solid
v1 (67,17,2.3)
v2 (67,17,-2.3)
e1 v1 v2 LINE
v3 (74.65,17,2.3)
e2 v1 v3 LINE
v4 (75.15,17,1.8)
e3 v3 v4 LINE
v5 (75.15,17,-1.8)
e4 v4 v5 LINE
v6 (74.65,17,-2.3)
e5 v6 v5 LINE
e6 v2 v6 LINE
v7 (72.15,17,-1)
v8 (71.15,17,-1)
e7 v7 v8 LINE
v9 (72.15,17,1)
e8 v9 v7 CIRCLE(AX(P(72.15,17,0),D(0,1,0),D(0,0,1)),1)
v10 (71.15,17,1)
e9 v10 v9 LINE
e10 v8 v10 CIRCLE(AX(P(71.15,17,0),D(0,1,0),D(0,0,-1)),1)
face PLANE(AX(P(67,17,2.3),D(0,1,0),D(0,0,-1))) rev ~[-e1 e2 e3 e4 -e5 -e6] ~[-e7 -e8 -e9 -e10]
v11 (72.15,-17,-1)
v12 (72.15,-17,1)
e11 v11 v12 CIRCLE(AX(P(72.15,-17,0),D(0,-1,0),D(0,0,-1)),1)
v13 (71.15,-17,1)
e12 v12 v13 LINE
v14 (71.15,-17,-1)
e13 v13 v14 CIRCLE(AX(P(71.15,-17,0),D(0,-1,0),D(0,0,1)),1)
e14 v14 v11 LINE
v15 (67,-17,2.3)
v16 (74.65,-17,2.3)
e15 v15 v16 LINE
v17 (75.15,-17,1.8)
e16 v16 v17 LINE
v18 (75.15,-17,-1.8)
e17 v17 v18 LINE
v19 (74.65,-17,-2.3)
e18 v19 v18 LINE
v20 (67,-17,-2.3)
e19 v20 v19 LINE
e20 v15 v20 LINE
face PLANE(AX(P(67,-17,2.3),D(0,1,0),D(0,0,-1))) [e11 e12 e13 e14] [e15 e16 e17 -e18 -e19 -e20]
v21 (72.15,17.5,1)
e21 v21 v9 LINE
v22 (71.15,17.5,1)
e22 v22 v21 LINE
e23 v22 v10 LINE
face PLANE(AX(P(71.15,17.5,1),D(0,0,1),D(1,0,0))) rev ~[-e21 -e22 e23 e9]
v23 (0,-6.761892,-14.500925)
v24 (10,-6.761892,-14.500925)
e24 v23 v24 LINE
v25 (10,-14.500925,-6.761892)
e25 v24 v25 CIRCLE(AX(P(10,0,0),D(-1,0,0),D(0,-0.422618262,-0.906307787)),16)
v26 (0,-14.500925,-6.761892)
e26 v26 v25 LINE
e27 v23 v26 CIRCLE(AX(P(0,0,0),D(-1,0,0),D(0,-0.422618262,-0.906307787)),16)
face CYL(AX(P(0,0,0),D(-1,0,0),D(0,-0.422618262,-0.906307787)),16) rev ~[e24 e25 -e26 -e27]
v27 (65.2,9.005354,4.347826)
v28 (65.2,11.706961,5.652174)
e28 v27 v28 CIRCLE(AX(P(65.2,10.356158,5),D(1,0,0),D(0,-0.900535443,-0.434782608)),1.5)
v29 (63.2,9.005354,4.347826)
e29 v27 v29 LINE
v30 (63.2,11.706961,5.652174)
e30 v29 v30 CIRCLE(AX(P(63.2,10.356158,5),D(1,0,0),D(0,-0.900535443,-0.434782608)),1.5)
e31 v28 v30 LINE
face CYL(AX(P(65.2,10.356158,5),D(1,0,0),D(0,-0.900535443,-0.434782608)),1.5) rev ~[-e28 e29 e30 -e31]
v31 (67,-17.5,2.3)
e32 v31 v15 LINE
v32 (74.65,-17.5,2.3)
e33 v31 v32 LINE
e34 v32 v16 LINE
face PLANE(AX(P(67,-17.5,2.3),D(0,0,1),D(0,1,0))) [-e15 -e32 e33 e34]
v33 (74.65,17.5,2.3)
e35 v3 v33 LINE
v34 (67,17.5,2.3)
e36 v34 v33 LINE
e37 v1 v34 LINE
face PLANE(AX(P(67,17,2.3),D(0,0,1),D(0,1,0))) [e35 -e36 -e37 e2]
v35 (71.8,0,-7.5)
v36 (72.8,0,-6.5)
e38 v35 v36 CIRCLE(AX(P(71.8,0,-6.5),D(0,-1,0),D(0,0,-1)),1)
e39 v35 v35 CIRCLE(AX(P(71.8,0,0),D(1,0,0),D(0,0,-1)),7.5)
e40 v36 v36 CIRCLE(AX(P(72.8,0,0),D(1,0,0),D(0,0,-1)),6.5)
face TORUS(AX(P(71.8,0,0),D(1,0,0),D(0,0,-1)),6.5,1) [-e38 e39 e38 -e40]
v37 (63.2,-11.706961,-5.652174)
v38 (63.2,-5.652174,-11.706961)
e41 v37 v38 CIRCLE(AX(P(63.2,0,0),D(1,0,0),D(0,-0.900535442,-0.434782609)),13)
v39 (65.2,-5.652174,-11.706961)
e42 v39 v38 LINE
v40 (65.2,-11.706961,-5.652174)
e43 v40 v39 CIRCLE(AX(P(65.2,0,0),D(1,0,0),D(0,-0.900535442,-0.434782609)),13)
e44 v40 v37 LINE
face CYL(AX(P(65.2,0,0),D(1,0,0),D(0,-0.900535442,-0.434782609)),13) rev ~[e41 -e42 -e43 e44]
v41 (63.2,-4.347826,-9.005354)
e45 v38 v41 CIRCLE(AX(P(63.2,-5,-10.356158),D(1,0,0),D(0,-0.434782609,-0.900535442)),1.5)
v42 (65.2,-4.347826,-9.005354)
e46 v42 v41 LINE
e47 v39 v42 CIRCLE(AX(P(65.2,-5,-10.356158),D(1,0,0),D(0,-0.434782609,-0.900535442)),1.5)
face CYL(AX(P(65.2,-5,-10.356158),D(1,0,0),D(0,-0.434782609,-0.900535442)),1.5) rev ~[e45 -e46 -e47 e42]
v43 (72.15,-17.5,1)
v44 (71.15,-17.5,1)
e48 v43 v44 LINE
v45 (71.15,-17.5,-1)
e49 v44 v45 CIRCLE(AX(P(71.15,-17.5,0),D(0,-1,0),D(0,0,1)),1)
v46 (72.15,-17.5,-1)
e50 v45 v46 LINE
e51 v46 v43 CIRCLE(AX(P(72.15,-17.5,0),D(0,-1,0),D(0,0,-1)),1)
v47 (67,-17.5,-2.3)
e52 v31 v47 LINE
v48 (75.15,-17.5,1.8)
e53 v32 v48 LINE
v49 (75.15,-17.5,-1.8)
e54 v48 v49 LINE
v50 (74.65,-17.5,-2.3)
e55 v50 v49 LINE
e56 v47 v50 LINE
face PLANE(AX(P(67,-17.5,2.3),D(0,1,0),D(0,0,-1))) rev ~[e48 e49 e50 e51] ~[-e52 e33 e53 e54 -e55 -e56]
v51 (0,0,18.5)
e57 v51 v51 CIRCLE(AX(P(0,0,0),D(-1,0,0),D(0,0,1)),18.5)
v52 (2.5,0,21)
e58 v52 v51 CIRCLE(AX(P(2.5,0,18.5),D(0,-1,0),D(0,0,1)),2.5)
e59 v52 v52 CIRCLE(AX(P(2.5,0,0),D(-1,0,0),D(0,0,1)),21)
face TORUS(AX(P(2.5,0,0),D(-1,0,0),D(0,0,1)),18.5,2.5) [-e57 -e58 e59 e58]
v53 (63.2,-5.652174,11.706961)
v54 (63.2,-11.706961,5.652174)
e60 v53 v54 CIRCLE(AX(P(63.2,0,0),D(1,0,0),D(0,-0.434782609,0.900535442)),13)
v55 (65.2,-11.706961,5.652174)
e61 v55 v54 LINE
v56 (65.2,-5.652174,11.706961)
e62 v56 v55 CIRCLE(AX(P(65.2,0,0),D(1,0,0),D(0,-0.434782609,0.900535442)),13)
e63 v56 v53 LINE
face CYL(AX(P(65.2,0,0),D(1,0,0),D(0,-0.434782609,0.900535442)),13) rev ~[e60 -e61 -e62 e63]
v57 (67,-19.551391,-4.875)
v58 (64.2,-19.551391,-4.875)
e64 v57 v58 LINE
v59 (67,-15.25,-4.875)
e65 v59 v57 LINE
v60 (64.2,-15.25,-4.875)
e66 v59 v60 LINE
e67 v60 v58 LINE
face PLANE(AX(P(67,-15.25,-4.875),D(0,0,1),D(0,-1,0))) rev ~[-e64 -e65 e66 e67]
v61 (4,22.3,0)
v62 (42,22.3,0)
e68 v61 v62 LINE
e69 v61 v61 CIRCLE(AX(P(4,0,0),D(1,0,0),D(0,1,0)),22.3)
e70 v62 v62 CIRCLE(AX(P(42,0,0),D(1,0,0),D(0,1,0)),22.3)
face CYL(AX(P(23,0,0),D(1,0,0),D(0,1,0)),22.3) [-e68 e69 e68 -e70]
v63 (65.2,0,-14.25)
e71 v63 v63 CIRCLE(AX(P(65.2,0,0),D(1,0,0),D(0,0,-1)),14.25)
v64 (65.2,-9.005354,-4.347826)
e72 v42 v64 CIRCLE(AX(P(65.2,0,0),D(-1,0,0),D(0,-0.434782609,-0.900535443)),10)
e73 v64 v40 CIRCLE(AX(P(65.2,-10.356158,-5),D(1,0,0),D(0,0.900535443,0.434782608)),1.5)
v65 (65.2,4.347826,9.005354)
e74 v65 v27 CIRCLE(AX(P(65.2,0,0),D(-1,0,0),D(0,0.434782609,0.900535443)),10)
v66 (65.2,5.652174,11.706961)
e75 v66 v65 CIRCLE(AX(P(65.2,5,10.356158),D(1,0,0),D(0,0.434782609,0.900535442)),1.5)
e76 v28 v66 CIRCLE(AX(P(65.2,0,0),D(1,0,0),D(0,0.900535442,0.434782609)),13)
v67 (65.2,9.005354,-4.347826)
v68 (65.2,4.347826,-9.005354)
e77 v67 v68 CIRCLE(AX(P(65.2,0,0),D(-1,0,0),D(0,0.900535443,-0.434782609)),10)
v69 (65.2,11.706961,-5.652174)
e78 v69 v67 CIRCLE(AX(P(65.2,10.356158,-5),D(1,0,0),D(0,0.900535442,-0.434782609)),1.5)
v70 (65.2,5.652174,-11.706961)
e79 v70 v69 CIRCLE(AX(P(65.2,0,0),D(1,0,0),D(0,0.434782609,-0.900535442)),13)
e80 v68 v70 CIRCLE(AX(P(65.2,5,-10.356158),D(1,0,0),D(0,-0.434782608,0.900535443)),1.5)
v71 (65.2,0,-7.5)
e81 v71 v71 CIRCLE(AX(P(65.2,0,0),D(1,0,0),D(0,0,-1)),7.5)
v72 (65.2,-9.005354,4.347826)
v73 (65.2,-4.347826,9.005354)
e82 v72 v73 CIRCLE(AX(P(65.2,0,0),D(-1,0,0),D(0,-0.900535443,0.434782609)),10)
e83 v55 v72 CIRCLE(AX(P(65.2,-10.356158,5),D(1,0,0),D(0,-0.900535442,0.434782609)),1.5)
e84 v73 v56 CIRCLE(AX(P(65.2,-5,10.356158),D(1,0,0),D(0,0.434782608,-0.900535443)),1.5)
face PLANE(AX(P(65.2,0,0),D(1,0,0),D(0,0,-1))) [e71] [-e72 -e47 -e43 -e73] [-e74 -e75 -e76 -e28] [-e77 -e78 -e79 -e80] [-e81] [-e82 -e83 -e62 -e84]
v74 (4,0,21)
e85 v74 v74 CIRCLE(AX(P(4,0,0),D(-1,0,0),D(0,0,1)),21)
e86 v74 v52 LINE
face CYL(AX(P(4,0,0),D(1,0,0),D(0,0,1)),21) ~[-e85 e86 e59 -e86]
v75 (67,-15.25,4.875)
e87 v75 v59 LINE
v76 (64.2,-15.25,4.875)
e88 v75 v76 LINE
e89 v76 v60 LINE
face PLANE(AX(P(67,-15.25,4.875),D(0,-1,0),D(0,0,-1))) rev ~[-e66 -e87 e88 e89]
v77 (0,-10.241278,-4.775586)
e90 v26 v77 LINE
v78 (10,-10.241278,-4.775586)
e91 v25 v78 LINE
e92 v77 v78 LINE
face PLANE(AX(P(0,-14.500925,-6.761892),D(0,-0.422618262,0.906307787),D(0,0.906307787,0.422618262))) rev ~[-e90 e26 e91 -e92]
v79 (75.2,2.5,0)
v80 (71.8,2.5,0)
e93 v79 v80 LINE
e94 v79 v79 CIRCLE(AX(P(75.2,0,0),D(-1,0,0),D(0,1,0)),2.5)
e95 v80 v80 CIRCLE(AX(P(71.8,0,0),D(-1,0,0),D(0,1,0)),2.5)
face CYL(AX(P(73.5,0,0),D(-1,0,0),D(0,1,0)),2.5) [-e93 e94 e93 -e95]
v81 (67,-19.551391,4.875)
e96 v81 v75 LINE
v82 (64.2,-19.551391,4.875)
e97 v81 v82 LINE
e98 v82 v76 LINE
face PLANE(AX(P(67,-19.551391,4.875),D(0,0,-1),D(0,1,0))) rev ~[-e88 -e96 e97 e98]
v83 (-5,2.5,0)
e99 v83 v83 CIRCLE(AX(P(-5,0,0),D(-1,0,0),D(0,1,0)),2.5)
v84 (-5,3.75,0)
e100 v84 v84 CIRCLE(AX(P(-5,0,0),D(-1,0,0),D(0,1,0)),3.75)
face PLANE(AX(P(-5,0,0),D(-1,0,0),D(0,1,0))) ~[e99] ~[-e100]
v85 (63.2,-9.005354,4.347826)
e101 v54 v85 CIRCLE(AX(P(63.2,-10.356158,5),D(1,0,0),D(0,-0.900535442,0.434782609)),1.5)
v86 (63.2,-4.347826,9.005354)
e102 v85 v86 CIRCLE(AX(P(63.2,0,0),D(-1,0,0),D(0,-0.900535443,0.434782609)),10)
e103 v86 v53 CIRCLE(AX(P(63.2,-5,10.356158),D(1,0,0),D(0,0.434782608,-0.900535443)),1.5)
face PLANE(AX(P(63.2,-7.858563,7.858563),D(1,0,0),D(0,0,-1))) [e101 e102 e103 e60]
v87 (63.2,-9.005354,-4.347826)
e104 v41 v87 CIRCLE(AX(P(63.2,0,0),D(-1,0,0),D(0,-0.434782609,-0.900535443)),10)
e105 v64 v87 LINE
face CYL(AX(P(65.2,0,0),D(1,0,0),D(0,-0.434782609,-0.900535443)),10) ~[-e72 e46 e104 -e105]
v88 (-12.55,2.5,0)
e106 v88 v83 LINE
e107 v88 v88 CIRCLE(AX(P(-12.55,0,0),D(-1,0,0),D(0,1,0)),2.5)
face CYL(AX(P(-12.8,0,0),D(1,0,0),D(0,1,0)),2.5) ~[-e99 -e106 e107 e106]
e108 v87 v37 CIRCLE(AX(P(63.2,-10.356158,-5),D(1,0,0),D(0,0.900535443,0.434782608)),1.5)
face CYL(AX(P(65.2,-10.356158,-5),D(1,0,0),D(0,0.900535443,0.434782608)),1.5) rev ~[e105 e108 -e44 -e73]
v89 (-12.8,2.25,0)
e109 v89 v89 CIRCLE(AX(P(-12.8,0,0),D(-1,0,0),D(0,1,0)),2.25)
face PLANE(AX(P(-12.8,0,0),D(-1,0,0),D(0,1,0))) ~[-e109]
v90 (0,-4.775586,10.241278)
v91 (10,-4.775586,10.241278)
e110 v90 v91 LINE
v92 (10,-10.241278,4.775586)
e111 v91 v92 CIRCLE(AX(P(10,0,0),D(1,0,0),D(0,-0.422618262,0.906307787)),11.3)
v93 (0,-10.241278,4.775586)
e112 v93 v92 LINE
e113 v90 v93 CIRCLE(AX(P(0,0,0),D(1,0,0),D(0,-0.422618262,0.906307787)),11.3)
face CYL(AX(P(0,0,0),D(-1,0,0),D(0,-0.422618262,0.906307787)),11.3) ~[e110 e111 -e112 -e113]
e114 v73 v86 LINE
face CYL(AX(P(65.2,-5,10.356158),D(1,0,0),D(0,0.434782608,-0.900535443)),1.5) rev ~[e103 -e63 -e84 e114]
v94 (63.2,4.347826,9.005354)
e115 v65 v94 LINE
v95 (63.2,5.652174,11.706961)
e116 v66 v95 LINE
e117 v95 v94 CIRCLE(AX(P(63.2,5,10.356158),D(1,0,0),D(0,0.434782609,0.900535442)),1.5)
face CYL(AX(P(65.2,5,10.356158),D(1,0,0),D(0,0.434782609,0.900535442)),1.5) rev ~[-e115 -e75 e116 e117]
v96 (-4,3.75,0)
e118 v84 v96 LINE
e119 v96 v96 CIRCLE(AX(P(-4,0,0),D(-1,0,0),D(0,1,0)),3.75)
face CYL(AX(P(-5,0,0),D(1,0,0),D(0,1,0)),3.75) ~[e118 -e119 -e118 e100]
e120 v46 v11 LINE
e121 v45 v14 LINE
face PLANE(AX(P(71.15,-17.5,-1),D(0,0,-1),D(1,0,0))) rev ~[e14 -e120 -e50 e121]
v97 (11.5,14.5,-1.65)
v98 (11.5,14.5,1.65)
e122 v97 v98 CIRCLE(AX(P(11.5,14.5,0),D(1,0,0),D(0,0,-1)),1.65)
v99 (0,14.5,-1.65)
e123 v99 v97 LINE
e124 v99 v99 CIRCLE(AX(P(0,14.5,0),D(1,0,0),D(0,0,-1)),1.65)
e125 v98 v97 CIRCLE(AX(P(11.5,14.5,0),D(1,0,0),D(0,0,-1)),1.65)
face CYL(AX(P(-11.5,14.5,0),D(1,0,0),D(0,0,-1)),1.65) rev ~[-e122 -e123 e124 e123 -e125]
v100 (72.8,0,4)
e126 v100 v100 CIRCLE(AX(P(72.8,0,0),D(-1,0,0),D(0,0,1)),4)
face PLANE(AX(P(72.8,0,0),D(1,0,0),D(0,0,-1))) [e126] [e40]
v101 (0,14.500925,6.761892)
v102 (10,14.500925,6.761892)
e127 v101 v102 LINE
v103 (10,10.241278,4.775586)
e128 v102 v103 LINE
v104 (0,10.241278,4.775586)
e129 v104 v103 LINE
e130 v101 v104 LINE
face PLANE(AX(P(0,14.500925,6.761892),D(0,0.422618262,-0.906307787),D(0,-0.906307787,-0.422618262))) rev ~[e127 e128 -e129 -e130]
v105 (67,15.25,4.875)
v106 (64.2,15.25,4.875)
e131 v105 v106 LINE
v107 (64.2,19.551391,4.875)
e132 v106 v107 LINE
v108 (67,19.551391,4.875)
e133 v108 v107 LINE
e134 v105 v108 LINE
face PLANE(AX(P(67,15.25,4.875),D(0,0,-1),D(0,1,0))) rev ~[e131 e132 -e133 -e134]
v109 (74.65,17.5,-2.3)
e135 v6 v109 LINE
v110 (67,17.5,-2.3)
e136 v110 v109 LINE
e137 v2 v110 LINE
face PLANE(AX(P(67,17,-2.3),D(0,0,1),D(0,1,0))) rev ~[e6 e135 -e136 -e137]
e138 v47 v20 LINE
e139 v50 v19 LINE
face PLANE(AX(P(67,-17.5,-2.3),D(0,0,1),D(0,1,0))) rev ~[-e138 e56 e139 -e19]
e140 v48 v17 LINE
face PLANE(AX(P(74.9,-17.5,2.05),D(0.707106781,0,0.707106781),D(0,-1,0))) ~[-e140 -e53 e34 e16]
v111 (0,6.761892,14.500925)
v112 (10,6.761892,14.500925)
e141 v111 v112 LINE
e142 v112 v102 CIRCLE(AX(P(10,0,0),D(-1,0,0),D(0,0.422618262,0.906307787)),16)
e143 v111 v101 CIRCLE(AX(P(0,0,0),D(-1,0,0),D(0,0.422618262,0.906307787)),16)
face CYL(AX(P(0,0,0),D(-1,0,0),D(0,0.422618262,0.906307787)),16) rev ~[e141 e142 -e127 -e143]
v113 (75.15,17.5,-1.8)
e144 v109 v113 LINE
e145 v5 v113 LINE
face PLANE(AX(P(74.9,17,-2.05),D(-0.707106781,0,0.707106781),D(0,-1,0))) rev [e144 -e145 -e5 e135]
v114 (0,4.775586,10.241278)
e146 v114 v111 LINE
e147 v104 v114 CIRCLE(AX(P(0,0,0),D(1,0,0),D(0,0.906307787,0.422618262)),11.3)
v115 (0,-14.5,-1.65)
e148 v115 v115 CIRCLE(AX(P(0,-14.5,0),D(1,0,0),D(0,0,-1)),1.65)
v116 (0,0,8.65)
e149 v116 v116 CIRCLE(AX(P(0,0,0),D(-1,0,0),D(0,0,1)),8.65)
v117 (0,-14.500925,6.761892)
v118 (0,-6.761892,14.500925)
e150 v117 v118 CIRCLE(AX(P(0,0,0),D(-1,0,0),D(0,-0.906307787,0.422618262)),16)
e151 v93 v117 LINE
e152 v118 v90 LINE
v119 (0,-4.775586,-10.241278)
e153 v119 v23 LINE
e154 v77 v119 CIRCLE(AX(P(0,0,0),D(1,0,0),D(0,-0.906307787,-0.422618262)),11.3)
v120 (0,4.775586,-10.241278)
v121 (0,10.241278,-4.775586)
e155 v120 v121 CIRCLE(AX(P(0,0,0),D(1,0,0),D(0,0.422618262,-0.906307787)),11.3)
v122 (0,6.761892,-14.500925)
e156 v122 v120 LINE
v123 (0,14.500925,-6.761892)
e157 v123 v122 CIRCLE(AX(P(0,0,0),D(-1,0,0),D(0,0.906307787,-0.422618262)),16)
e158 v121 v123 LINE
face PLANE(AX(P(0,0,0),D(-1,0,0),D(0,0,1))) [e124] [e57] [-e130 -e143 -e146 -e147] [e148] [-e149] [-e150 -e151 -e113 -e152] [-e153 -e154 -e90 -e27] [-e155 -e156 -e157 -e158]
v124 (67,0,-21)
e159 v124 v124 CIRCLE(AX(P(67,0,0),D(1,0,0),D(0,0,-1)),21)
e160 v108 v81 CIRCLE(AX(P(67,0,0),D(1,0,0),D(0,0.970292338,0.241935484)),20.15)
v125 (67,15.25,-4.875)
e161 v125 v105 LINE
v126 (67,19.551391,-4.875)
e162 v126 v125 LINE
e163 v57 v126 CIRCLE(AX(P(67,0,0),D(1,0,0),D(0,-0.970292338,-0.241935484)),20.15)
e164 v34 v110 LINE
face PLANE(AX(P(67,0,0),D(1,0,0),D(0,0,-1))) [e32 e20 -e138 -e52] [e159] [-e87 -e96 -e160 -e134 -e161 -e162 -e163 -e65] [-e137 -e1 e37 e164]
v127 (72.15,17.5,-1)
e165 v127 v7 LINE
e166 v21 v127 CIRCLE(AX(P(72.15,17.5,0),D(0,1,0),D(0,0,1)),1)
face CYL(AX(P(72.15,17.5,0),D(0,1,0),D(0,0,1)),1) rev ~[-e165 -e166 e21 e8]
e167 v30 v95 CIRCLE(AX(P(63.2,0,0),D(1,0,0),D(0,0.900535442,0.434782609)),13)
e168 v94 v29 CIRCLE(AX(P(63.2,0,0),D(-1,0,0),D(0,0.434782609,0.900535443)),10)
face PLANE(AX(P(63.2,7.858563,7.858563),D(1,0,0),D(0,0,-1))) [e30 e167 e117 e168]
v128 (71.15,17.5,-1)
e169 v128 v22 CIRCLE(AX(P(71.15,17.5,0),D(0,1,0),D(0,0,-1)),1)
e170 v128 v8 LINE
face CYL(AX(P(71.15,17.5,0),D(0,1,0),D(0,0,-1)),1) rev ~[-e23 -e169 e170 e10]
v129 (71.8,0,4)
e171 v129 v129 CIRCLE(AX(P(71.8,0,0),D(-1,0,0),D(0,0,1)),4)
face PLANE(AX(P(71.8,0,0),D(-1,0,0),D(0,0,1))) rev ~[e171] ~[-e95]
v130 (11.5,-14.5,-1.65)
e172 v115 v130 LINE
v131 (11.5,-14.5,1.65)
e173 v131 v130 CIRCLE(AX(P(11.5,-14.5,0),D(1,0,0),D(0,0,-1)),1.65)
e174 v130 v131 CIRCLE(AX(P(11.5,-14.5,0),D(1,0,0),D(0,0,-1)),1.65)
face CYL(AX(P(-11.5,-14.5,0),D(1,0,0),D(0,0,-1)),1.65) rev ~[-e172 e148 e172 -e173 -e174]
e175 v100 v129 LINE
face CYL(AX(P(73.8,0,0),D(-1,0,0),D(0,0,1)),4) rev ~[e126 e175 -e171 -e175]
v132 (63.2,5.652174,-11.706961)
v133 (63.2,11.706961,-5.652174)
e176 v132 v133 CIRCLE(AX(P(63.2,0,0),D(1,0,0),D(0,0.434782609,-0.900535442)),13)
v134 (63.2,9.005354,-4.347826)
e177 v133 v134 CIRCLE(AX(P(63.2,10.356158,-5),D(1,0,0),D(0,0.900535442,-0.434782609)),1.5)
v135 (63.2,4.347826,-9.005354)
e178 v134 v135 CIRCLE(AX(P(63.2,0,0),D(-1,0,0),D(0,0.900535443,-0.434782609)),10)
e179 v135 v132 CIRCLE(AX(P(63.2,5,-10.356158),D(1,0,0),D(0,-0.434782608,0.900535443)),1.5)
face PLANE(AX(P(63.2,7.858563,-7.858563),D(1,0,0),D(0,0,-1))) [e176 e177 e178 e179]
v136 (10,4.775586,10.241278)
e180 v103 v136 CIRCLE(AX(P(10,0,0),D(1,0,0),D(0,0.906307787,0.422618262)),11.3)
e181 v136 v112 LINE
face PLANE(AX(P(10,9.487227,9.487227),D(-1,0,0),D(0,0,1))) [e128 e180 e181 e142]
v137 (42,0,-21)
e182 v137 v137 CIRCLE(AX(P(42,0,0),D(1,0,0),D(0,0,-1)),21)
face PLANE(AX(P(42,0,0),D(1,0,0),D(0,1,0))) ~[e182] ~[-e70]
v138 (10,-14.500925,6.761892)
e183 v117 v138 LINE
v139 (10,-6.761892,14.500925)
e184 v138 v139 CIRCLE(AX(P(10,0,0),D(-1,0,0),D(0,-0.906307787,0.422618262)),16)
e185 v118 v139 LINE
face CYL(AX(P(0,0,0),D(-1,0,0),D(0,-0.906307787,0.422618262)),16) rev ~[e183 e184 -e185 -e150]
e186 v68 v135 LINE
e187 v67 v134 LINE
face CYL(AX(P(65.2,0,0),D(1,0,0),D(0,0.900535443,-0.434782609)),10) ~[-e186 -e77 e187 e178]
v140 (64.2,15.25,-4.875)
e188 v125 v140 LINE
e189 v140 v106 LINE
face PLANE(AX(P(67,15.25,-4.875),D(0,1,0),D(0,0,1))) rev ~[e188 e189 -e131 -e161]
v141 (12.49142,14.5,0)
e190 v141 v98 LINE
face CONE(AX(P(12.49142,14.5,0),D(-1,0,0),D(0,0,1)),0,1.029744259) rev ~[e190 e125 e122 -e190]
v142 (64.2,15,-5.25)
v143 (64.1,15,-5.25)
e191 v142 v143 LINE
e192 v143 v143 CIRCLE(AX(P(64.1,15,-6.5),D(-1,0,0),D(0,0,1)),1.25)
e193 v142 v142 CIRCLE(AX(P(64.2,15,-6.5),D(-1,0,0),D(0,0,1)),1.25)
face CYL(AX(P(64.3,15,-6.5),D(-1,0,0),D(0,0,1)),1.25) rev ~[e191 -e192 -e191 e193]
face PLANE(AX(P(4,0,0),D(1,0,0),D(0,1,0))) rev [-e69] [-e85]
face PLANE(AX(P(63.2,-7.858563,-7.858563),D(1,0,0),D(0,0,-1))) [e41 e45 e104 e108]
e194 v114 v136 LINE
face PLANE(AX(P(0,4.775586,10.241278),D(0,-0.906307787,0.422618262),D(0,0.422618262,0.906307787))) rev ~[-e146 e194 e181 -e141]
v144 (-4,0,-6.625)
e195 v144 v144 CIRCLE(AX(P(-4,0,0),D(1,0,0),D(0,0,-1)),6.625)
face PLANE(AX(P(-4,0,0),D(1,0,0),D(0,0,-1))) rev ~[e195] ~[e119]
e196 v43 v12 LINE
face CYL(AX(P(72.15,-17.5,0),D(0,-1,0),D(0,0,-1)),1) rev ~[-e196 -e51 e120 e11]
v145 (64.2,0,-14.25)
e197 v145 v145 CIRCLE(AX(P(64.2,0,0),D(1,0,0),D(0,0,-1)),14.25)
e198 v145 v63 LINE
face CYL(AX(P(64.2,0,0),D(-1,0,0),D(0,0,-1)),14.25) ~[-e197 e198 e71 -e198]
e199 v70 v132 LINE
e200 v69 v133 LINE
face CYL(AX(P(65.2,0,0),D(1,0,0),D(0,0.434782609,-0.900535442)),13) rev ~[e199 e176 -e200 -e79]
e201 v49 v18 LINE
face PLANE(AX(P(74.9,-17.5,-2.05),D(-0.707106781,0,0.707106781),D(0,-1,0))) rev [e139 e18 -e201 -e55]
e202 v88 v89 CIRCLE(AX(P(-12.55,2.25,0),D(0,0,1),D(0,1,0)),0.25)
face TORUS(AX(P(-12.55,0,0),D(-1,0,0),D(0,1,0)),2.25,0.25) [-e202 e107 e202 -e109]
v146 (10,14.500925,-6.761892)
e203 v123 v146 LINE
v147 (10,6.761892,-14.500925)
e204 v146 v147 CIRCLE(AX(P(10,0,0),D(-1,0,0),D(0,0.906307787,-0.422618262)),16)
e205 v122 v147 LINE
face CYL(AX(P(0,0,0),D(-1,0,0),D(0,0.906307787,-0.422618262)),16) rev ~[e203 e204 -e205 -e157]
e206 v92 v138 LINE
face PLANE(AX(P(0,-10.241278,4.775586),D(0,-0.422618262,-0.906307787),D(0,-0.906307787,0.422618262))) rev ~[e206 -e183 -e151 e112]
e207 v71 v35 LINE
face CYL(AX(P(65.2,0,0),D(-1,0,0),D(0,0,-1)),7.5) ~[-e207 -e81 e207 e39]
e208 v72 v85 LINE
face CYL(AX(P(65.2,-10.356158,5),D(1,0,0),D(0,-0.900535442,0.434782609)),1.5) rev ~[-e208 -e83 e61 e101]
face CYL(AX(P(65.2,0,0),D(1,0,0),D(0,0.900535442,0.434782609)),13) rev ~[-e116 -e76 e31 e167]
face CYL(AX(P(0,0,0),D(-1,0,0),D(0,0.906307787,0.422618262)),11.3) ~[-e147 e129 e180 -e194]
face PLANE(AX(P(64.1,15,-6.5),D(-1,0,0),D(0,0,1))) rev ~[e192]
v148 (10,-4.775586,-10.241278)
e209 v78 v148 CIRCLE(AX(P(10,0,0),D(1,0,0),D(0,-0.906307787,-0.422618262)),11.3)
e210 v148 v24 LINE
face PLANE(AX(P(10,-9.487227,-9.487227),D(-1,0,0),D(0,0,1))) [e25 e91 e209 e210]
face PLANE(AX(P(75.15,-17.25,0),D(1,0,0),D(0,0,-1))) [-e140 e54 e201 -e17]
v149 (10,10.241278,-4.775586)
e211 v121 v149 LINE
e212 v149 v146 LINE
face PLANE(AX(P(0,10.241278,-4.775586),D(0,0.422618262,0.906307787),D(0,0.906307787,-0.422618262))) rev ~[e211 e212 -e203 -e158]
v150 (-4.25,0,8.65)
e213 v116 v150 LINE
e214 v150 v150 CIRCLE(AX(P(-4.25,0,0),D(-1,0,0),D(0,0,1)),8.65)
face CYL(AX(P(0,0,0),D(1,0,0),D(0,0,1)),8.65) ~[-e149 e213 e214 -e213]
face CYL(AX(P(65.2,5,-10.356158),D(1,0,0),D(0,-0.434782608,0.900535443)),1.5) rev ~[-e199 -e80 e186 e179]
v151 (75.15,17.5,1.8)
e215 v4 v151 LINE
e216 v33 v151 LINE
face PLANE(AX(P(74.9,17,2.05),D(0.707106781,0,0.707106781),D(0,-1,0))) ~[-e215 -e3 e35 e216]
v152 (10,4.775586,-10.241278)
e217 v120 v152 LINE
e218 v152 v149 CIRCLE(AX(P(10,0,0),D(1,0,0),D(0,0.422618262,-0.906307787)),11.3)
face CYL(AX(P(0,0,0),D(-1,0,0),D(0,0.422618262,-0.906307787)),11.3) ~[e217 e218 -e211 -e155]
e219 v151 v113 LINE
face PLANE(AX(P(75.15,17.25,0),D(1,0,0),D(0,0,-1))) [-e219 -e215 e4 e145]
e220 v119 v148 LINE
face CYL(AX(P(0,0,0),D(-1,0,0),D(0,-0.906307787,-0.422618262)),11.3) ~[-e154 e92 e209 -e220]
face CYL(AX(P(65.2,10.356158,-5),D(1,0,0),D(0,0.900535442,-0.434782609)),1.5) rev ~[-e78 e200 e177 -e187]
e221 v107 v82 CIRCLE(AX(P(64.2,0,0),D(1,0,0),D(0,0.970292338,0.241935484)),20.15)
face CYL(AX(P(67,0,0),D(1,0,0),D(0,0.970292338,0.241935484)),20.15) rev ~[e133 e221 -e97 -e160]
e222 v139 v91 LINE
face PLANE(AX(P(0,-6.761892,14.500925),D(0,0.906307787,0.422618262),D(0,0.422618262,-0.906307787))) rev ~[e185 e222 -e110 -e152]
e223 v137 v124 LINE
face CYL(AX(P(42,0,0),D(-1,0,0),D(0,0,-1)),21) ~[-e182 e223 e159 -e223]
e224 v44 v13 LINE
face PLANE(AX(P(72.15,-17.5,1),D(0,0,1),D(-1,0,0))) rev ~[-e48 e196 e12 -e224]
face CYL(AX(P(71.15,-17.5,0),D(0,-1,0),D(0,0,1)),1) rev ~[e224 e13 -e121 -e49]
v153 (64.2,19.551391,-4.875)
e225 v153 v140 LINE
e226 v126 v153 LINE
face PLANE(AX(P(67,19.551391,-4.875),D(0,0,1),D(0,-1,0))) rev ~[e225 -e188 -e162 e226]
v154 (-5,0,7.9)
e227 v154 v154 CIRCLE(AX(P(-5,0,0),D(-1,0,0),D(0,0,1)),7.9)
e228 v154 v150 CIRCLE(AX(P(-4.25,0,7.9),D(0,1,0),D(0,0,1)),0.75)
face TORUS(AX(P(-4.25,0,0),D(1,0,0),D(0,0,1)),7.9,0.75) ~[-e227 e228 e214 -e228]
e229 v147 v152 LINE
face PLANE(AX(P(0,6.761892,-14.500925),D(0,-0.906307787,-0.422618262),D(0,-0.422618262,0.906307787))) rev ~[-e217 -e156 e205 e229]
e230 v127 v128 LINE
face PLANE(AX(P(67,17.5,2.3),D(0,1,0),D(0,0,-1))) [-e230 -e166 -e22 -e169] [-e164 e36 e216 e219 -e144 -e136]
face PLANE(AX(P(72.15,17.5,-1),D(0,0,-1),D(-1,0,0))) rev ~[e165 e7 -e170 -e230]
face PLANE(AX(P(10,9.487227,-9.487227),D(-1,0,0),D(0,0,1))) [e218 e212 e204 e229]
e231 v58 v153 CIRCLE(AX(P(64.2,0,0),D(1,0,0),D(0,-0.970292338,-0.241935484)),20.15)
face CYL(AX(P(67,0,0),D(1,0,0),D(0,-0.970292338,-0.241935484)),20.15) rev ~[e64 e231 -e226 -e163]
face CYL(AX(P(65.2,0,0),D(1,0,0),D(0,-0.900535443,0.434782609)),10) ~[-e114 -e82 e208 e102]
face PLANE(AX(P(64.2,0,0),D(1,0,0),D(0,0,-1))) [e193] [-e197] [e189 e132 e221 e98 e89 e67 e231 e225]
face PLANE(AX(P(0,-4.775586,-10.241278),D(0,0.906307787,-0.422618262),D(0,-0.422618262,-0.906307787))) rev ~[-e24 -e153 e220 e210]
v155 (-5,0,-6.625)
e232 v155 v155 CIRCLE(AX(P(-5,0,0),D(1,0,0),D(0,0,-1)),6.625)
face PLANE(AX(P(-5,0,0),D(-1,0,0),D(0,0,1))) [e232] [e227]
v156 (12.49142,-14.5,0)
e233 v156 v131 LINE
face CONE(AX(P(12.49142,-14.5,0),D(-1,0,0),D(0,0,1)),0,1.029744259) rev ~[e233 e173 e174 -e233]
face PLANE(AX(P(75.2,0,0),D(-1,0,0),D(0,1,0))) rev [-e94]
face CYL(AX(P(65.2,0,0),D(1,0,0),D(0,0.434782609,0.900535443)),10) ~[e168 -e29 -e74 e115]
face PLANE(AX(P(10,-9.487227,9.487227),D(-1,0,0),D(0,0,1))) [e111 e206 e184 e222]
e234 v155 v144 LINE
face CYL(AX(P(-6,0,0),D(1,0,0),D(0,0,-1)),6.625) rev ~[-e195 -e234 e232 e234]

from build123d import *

# Parameters (mm, degrees)
SKETCH1_W                      = 38
SKETCH1_H                      = 22.3
SKETCH2_R                      = 21
BOSS_EXTRUDE1_DEPTH            = 25
SKETCH3_W                      = 4.6
SKETCH3_H                      = 0.5
BOSS_EXTRUDE2_DEPTH            = 8.15
CUT_EXTRUDE1_DEPTH             = 40.8
SKETCH5_W                      = 4.6
SKETCH5_H                      = 0.5
BOSS_EXTRUDE3_DEPTH            = 8.15
CUT_EXTRUDE2_REACH             = 41.8
CUT_EXTRUDE3_DEPTH             = 2.8
SKETCH8_R                      = 14.25
BOSS_EXTRUDE4_DEPTH            = 1
CUT_EXTRUDE4_DEPTH             = 2
CUT_EXTRUDE5_DEPTH             = 2
CUT_EXTRUDE6_DEPTH             = 2
CUT_EXTRUDE7_DEPTH             = 2
SKETCH13_R                     = 21
BOSS_EXTRUDE5_DEPTH            = 4
CUT_EXTRUDE8_DEPTH             = 10
CUT_EXTRUDE9_DEPTH             = 10
CUT_EXTRUDE10_DEPTH            = 10
CUT_EXTRUDE11_DEPTH            = 10
SKETCH18_R                     = 7.5
BOSS_EXTRUDE6_DEPTH            = 7.6
F_8_0_8_DIAMETER_HOLE1_D       = 8
F_8_0_8_DIAMETER_HOLE1_DEPTH   = 1
SKETCH21_R                     = 8.65
BOSS_EXTRUDE7_DEPTH            = 5
M12_CLEARANCE_HOLE1_D          = 13.25
M12_CLEARANCE_HOLE1_DEPTH      = 1
SKETCH25_W                     = 3.4
SKETCH25_H                     = 2.5
F_2_5_2_5_DIAMETER_HOLE1_D     = 2.5
F_2_5_2_5_DIAMETER_HOLE1_DEPTH = 0.1
F_3_3_3_3_DIAMETER_HOLE1_D     = 3.3
F_3_3_3_3_DIAMETER_HOLE1_DEPTH = 11.5
F_3_3_3_3_DIAMETER_HOLE1_TIP   = 0.991420021
CHAMFER1_SIZE                  = 0.5
FILLET1_R                      = 0.25
FILLET2_R                      = 0.75
FILLET3_R                      = 1
FILLET4_R                      = 2.5


with BuildPart() as part:
    # Sketch1 → Revolve1 (revolve)
    with BuildSketch(Plane.XY):
        with Locations((23, 11.15)):
            Rectangle(SKETCH1_W, SKETCH1_H)
    revolve(axis=Axis((4, 0, 0), (1, 0, 0)))

    # Sketch2 → Boss-Extrude1 (add)
    with BuildSketch(Plane(origin=(42, 0, 0), x_dir=(0, 0, -1), z_dir=(1, 0, 0))):
        Circle(SKETCH2_R)
    extrude(amount=BOSS_EXTRUDE1_DEPTH)

    # Sketch3 → Boss-Extrude2 (add)
    with BuildSketch(Plane(origin=(67, 0, 0), x_dir=(0, 0, -1), z_dir=(1, 0, 0))):
        with Locations((0, 17.25)):
            Rectangle(SKETCH3_W, SKETCH3_H)
    extrude(amount=BOSS_EXTRUDE2_DEPTH)

    # Sketch4 → Cut-Extrude1 (cut, through all)
    with BuildSketch(Plane(origin=(0, 17.5, 0), x_dir=(-1, 0, 0), z_dir=(0, 1, 0))):
        with BuildLine():
            Line((-72.15, -1), (-71.15, -1))
            ThreePointArc((-71.15, -1), (-70.15, 0), (-71.15, 1))
            Line((-71.15, 1), (-72.15, 1))
            ThreePointArc((-72.15, 1), (-73.15, 0), (-72.15, -1))
        make_face()
    extrude(amount=-CUT_EXTRUDE1_DEPTH, mode=Mode.SUBTRACT)

    # Sketch5 → Boss-Extrude3 (add)
    with BuildSketch(Plane(origin=(67, 0, 0), x_dir=(0, 0, -1), z_dir=(1, 0, 0))):
        with Locations((0, -17.25)):
            Rectangle(SKETCH5_W, SKETCH5_H)
    extrude(amount=BOSS_EXTRUDE3_DEPTH)

    # Sketch6 → Cut-Extrude2 (cut, up to next)
    with BuildSketch(Plane.XZ.offset(17.5), mode=Mode.PRIVATE) as cut_extrude2_sk1:
        with BuildLine():
            Line((72.15, 1), (71.15, 1))
            ThreePointArc((71.15, 1), (70.15, 0), (71.15, -1))
            Line((71.15, -1), (72.15, -1))
            ThreePointArc((72.15, -1), (73.15, 0), (72.15, 1))
        make_face()
    cut_extrude2_tool1 = extrude(cut_extrude2_sk1.sketch, amount=-CUT_EXTRUDE2_REACH, mode=Mode.PRIVATE) & part.part
    add(cut_extrude2_tool1.solids().sort_by_distance((71.65, -17.5, 0))[0], mode=Mode.SUBTRACT)

    # Sketch7 → Cut-Extrude3 (cut)
    with BuildSketch(Plane(origin=(67, 0, 0), x_dir=(0, 0, -1), z_dir=(1, 0, 0))):
        with BuildLine():
            Line((4.875, 19.551390616), (4.875, 15.25))
            Line((4.875, 15.25), (-4.875, 15.25))
            Line((-4.875, 15.25), (-4.875, 19.551390616))
            ThreePointArc((-4.875, 19.551390616), (-20.15, 0), (-4.875, -19.551390616))
            Line((-4.875, -19.551390616), (-4.875, -15.25))
            Line((-4.875, -15.25), (4.875, -15.25))
            Line((4.875, -15.25), (4.875, -19.551390616))
            ThreePointArc((4.875, -19.551390616), (20.15, 0), (4.875, 19.551390616))
        make_face()
    extrude(amount=-CUT_EXTRUDE3_DEPTH, mode=Mode.SUBTRACT)

    # Sketch8 → Boss-Extrude4 (add)
    with BuildSketch(Plane(origin=(64.2, 0, 0), x_dir=(0, 0, -1), z_dir=(1, 0, 0))):
        Circle(SKETCH8_R)
    extrude(amount=BOSS_EXTRUDE4_DEPTH)

    # Sketch9 → Cut-Extrude4 (cut)
    with BuildSketch(Plane(origin=(65.2, 0, 0), x_dir=(0, 0, -1), z_dir=(1, 0, 0))):
        with BuildLine():
            ThreePointArc((-5.652173913, 11.706960752), (-9.192388155, 9.192388155), (-11.706960752, 5.652173913))
            ThreePointArc((-11.706960752, 5.652173913), (-11.008331502, 3.649196836), (-9.005354425, 4.347826087))
            ThreePointArc((-9.005354425, 4.347826087), (-7.071067812, 7.071067812), (-4.347826087, 9.005354425))
            ThreePointArc((-4.347826087, 9.005354425), (-3.649196836, 11.008331502), (-5.652173913, 11.706960752))
        make_face()
    extrude(amount=-CUT_EXTRUDE4_DEPTH, mode=Mode.SUBTRACT)

    # Sketch10 → Cut-Extrude5 (cut)
    with BuildSketch(Plane(origin=(65.2, 0, 0), x_dir=(0, 0, -1), z_dir=(1, 0, 0))):
        with BuildLine():
            ThreePointArc((11.706960752, 5.652173913), (9.192388155, 9.192388155), (5.652173913, 11.706960752))
            ThreePointArc((5.652173913, 11.706960752), (3.649196836, 11.008331502), (4.347826087, 9.005354425))
            ThreePointArc((4.347826087, 9.005354425), (7.071067812, 7.071067812), (9.005354425, 4.347826087))
            ThreePointArc((9.005354425, 4.347826087), (11.008331502, 3.649196836), (11.706960752, 5.652173913))
        make_face()
    extrude(amount=-CUT_EXTRUDE5_DEPTH, mode=Mode.SUBTRACT)

    # Sketch11 → Cut-Extrude6 (cut)
    with BuildSketch(Plane(origin=(65.2, 0, 0), x_dir=(0, 0, -1), z_dir=(1, 0, 0))):
        with BuildLine():
            ThreePointArc((5.652173913, -11.706960752), (9.192388155, -9.192388155), (11.706960752, -5.652173913))
            ThreePointArc((11.706960752, -5.652173913), (11.008331502, -3.649196836), (9.005354425, -4.347826087))
            ThreePointArc((9.005354425, -4.347826087), (7.071067812, -7.071067812), (4.347826087, -9.005354425))
            ThreePointArc((4.347826087, -9.005354425), (3.649196836, -11.008331502), (5.652173913, -11.706960752))
        make_face()
    extrude(amount=-CUT_EXTRUDE6_DEPTH, mode=Mode.SUBTRACT)

    # Sketch12 → Cut-Extrude7 (cut)
    with BuildSketch(Plane(origin=(65.2, 0, 0), x_dir=(0, 0, -1), z_dir=(1, 0, 0))):
        with BuildLine():
            ThreePointArc((-11.706960752, -5.652173913), (-9.192388155, -9.192388155), (-5.652173913, -11.706960752))
            ThreePointArc((-5.652173913, -11.706960752), (-3.649196836, -11.008331502), (-4.347826087, -9.005354425))
            ThreePointArc((-4.347826087, -9.005354425), (-7.071067812, -7.071067812), (-9.005354425, -4.347826087))
            ThreePointArc((-9.005354425, -4.347826087), (-11.008331502, -3.649196836), (-11.706960752, -5.652173913))
        make_face()
    extrude(amount=-CUT_EXTRUDE7_DEPTH, mode=Mode.SUBTRACT)

    # Sketch13 → Boss-Extrude5 (add)
    with BuildSketch(Plane.ZY.offset(-4)):
        Circle(SKETCH13_R)
    extrude(amount=BOSS_EXTRUDE5_DEPTH)

    # Sketch14 → Cut-Extrude8 (cut)
    with BuildSketch(Plane.ZY):
        with BuildLine():
            Line((6.761892188, 14.500924593), (4.775586358, 10.241277994))
            ThreePointArc((4.775586358, 10.241277994), (7.990306627, 7.990306627), (10.241277994, 4.775586358))
            Line((10.241277994, 4.775586358), (14.500924593, 6.761892188))
            ThreePointArc((14.500924593, 6.761892188), (11.313708499, 11.313708499), (6.761892188, 14.500924593))
        make_face()
    extrude(amount=-CUT_EXTRUDE8_DEPTH, mode=Mode.SUBTRACT)

    # Sketch15 → Cut-Extrude9 (cut)
    with BuildSketch(Plane.ZY):
        with BuildLine():
            Line((-6.761892188, -14.500924593), (-4.775586358, -10.241277994))
            ThreePointArc((-4.775586358, -10.241277994), (-7.990306627, -7.990306627), (-10.241277994, -4.775586358))
            Line((-10.241277994, -4.775586358), (-14.500924593, -6.761892188))
            ThreePointArc((-14.500924593, -6.761892188), (-11.313708499, -11.313708499), (-6.761892188, -14.500924593))
        make_face()
    extrude(amount=-CUT_EXTRUDE9_DEPTH, mode=Mode.SUBTRACT)

    # Sketch16 → Cut-Extrude10 (cut)
    with BuildSketch(Plane.ZY):
        with BuildLine():
            Line((-14.500924593, 6.761892188), (-10.241277994, 4.775586358))
            ThreePointArc((-10.241277994, 4.775586358), (-7.990306627, 7.990306627), (-4.775586358, 10.241277994))
            Line((-4.775586358, 10.241277994), (-6.761892188, 14.500924593))
            ThreePointArc((-6.761892188, 14.500924593), (-11.313708499, 11.313708499), (-14.500924593, 6.761892188))
        make_face()
    extrude(amount=-CUT_EXTRUDE10_DEPTH, mode=Mode.SUBTRACT)

    # Sketch17 → Cut-Extrude11 (cut)
    with BuildSketch(Plane.ZY):
        with BuildLine():
            Line((14.500924593, -6.761892188), (10.241277994, -4.775586358))
            ThreePointArc((10.241277994, -4.775586358), (7.990306627, -7.990306627), (4.775586358, -10.241277994))
            Line((4.775586358, -10.241277994), (6.761892188, -14.500924593))
            ThreePointArc((6.761892188, -14.500924593), (11.313708499, -11.313708499), (14.500924593, -6.761892188))
        make_face()
    extrude(amount=-CUT_EXTRUDE11_DEPTH, mode=Mode.SUBTRACT)

    # Sketch18 → Boss-Extrude6 (add)
    with BuildSketch(Plane(origin=(65.2, 0, 0), x_dir=(0, 0, -1), z_dir=(1, 0, 0))):
        Circle(SKETCH18_R)
    extrude(amount=BOSS_EXTRUDE6_DEPTH)

    # Ø8.0 (8) Diameter Hole1
    with Locations(Plane(origin=(72.8, 0, 0), x_dir=(0, 0, -1), z_dir=(1, 0, 0))):
        with Locations((0, 0)):
            Hole(F_8_0_8_DIAMETER_HOLE1_D / 2, depth=F_8_0_8_DIAMETER_HOLE1_DEPTH)

    # Sketch21 → Boss-Extrude7 (add)
    with BuildSketch(Plane.ZY):
        Circle(SKETCH21_R)
    extrude(amount=BOSS_EXTRUDE7_DEPTH)

    # M12 Clearance Hole1
    with Locations(Plane.ZY.offset(5)):
        with Locations((0, 0)):
            Hole(M12_CLEARANCE_HOLE1_D / 2, depth=M12_CLEARANCE_HOLE1_DEPTH)

    # Sketch24 → Revolve2 (revolve)
    with BuildSketch(Plane(origin=(0, 0, 0), x_dir=(-1, 0, 0), z_dir=(0, 0, -1))):
        Polygon((4, 3.75), (4, 0), (12.8, 0), (12.8, 2.5), (5, 2.5), (5, 3.75), align=None)
    revolve(axis=Axis((-4, 0, 0), (-1, 0, 0)))

    # Sketch25 → Revolve3 (revolve)
    with BuildSketch(Plane(origin=(0, 0, 0), x_dir=(-1, 0, 0), z_dir=(0, 0, -1))):
        with Locations((-73.5, 1.25)):
            Rectangle(SKETCH25_W, SKETCH25_H)
    revolve(axis=Axis((75.2, 0, 0), (-1, 0, 0)))

    # Ø2.5 (2.5) Diameter Hole1
    with Locations(Plane(origin=(64.2, 0, 0), x_dir=(0, 0, -1), z_dir=(1, 0, 0))):
        with Locations((6.5, 15)):
            Hole(F_2_5_2_5_DIAMETER_HOLE1_D / 2, depth=F_2_5_2_5_DIAMETER_HOLE1_DEPTH)

    # Ø3.3 (3.3) Diameter Hole1
    with Locations(Plane.ZY):
        with Locations((0, 14.5), (0, -14.5)):
            Hole(F_3_3_3_3_DIAMETER_HOLE1_D / 2, depth=F_3_3_3_3_DIAMETER_HOLE1_DEPTH)
            with Locations((0, 0, -(F_3_3_3_3_DIAMETER_HOLE1_DEPTH + F_3_3_3_3_DIAMETER_HOLE1_TIP / 2))):  # 118° drill point
                Cone(0, F_3_3_3_3_DIAMETER_HOLE1_D / 2, F_3_3_3_3_DIAMETER_HOLE1_TIP, mode=Mode.SUBTRACT)

    # Chamfer1
    chamfer1_edges = [part.edges().sort_by_distance(p)[0] for p in [
        (75.15, 17.25, -2.3),
        (75.15, 17.25, 2.3),
        (75.15, -17.25, -2.3),
        (75.15, -17.25, 2.3),
    ]]
    chamfer(chamfer1_edges, length=CHAMFER1_SIZE)

    # Fillet1
    fillet1_edges = [part.edges().sort_by_distance(p)[0] for p in [
        (-12.8, -2.5, 0),
    ]]
    fillet(fillet1_edges, radius=FILLET1_R)

    # Fillet2
    fillet2_edges = [part.edges().sort_by_distance(p)[0] for p in [
        (-5, 0, -8.65),
    ]]
    fillet(fillet2_edges, radius=FILLET2_R)

    # Fillet3
    fillet3_edges = [part.edges().sort_by_distance(p)[0] for p in [
        (72.8, 0, 7.5),
    ]]
    fillet(fillet3_edges, radius=FILLET3_R)

    # Fillet4
    fillet4_edges = [part.edges().sort_by_distance(p)[0] for p in [
        (0, 0, -21),
    ]]
    fillet(fillet4_edges, radius=FILLET4_R)


solid = part.part
